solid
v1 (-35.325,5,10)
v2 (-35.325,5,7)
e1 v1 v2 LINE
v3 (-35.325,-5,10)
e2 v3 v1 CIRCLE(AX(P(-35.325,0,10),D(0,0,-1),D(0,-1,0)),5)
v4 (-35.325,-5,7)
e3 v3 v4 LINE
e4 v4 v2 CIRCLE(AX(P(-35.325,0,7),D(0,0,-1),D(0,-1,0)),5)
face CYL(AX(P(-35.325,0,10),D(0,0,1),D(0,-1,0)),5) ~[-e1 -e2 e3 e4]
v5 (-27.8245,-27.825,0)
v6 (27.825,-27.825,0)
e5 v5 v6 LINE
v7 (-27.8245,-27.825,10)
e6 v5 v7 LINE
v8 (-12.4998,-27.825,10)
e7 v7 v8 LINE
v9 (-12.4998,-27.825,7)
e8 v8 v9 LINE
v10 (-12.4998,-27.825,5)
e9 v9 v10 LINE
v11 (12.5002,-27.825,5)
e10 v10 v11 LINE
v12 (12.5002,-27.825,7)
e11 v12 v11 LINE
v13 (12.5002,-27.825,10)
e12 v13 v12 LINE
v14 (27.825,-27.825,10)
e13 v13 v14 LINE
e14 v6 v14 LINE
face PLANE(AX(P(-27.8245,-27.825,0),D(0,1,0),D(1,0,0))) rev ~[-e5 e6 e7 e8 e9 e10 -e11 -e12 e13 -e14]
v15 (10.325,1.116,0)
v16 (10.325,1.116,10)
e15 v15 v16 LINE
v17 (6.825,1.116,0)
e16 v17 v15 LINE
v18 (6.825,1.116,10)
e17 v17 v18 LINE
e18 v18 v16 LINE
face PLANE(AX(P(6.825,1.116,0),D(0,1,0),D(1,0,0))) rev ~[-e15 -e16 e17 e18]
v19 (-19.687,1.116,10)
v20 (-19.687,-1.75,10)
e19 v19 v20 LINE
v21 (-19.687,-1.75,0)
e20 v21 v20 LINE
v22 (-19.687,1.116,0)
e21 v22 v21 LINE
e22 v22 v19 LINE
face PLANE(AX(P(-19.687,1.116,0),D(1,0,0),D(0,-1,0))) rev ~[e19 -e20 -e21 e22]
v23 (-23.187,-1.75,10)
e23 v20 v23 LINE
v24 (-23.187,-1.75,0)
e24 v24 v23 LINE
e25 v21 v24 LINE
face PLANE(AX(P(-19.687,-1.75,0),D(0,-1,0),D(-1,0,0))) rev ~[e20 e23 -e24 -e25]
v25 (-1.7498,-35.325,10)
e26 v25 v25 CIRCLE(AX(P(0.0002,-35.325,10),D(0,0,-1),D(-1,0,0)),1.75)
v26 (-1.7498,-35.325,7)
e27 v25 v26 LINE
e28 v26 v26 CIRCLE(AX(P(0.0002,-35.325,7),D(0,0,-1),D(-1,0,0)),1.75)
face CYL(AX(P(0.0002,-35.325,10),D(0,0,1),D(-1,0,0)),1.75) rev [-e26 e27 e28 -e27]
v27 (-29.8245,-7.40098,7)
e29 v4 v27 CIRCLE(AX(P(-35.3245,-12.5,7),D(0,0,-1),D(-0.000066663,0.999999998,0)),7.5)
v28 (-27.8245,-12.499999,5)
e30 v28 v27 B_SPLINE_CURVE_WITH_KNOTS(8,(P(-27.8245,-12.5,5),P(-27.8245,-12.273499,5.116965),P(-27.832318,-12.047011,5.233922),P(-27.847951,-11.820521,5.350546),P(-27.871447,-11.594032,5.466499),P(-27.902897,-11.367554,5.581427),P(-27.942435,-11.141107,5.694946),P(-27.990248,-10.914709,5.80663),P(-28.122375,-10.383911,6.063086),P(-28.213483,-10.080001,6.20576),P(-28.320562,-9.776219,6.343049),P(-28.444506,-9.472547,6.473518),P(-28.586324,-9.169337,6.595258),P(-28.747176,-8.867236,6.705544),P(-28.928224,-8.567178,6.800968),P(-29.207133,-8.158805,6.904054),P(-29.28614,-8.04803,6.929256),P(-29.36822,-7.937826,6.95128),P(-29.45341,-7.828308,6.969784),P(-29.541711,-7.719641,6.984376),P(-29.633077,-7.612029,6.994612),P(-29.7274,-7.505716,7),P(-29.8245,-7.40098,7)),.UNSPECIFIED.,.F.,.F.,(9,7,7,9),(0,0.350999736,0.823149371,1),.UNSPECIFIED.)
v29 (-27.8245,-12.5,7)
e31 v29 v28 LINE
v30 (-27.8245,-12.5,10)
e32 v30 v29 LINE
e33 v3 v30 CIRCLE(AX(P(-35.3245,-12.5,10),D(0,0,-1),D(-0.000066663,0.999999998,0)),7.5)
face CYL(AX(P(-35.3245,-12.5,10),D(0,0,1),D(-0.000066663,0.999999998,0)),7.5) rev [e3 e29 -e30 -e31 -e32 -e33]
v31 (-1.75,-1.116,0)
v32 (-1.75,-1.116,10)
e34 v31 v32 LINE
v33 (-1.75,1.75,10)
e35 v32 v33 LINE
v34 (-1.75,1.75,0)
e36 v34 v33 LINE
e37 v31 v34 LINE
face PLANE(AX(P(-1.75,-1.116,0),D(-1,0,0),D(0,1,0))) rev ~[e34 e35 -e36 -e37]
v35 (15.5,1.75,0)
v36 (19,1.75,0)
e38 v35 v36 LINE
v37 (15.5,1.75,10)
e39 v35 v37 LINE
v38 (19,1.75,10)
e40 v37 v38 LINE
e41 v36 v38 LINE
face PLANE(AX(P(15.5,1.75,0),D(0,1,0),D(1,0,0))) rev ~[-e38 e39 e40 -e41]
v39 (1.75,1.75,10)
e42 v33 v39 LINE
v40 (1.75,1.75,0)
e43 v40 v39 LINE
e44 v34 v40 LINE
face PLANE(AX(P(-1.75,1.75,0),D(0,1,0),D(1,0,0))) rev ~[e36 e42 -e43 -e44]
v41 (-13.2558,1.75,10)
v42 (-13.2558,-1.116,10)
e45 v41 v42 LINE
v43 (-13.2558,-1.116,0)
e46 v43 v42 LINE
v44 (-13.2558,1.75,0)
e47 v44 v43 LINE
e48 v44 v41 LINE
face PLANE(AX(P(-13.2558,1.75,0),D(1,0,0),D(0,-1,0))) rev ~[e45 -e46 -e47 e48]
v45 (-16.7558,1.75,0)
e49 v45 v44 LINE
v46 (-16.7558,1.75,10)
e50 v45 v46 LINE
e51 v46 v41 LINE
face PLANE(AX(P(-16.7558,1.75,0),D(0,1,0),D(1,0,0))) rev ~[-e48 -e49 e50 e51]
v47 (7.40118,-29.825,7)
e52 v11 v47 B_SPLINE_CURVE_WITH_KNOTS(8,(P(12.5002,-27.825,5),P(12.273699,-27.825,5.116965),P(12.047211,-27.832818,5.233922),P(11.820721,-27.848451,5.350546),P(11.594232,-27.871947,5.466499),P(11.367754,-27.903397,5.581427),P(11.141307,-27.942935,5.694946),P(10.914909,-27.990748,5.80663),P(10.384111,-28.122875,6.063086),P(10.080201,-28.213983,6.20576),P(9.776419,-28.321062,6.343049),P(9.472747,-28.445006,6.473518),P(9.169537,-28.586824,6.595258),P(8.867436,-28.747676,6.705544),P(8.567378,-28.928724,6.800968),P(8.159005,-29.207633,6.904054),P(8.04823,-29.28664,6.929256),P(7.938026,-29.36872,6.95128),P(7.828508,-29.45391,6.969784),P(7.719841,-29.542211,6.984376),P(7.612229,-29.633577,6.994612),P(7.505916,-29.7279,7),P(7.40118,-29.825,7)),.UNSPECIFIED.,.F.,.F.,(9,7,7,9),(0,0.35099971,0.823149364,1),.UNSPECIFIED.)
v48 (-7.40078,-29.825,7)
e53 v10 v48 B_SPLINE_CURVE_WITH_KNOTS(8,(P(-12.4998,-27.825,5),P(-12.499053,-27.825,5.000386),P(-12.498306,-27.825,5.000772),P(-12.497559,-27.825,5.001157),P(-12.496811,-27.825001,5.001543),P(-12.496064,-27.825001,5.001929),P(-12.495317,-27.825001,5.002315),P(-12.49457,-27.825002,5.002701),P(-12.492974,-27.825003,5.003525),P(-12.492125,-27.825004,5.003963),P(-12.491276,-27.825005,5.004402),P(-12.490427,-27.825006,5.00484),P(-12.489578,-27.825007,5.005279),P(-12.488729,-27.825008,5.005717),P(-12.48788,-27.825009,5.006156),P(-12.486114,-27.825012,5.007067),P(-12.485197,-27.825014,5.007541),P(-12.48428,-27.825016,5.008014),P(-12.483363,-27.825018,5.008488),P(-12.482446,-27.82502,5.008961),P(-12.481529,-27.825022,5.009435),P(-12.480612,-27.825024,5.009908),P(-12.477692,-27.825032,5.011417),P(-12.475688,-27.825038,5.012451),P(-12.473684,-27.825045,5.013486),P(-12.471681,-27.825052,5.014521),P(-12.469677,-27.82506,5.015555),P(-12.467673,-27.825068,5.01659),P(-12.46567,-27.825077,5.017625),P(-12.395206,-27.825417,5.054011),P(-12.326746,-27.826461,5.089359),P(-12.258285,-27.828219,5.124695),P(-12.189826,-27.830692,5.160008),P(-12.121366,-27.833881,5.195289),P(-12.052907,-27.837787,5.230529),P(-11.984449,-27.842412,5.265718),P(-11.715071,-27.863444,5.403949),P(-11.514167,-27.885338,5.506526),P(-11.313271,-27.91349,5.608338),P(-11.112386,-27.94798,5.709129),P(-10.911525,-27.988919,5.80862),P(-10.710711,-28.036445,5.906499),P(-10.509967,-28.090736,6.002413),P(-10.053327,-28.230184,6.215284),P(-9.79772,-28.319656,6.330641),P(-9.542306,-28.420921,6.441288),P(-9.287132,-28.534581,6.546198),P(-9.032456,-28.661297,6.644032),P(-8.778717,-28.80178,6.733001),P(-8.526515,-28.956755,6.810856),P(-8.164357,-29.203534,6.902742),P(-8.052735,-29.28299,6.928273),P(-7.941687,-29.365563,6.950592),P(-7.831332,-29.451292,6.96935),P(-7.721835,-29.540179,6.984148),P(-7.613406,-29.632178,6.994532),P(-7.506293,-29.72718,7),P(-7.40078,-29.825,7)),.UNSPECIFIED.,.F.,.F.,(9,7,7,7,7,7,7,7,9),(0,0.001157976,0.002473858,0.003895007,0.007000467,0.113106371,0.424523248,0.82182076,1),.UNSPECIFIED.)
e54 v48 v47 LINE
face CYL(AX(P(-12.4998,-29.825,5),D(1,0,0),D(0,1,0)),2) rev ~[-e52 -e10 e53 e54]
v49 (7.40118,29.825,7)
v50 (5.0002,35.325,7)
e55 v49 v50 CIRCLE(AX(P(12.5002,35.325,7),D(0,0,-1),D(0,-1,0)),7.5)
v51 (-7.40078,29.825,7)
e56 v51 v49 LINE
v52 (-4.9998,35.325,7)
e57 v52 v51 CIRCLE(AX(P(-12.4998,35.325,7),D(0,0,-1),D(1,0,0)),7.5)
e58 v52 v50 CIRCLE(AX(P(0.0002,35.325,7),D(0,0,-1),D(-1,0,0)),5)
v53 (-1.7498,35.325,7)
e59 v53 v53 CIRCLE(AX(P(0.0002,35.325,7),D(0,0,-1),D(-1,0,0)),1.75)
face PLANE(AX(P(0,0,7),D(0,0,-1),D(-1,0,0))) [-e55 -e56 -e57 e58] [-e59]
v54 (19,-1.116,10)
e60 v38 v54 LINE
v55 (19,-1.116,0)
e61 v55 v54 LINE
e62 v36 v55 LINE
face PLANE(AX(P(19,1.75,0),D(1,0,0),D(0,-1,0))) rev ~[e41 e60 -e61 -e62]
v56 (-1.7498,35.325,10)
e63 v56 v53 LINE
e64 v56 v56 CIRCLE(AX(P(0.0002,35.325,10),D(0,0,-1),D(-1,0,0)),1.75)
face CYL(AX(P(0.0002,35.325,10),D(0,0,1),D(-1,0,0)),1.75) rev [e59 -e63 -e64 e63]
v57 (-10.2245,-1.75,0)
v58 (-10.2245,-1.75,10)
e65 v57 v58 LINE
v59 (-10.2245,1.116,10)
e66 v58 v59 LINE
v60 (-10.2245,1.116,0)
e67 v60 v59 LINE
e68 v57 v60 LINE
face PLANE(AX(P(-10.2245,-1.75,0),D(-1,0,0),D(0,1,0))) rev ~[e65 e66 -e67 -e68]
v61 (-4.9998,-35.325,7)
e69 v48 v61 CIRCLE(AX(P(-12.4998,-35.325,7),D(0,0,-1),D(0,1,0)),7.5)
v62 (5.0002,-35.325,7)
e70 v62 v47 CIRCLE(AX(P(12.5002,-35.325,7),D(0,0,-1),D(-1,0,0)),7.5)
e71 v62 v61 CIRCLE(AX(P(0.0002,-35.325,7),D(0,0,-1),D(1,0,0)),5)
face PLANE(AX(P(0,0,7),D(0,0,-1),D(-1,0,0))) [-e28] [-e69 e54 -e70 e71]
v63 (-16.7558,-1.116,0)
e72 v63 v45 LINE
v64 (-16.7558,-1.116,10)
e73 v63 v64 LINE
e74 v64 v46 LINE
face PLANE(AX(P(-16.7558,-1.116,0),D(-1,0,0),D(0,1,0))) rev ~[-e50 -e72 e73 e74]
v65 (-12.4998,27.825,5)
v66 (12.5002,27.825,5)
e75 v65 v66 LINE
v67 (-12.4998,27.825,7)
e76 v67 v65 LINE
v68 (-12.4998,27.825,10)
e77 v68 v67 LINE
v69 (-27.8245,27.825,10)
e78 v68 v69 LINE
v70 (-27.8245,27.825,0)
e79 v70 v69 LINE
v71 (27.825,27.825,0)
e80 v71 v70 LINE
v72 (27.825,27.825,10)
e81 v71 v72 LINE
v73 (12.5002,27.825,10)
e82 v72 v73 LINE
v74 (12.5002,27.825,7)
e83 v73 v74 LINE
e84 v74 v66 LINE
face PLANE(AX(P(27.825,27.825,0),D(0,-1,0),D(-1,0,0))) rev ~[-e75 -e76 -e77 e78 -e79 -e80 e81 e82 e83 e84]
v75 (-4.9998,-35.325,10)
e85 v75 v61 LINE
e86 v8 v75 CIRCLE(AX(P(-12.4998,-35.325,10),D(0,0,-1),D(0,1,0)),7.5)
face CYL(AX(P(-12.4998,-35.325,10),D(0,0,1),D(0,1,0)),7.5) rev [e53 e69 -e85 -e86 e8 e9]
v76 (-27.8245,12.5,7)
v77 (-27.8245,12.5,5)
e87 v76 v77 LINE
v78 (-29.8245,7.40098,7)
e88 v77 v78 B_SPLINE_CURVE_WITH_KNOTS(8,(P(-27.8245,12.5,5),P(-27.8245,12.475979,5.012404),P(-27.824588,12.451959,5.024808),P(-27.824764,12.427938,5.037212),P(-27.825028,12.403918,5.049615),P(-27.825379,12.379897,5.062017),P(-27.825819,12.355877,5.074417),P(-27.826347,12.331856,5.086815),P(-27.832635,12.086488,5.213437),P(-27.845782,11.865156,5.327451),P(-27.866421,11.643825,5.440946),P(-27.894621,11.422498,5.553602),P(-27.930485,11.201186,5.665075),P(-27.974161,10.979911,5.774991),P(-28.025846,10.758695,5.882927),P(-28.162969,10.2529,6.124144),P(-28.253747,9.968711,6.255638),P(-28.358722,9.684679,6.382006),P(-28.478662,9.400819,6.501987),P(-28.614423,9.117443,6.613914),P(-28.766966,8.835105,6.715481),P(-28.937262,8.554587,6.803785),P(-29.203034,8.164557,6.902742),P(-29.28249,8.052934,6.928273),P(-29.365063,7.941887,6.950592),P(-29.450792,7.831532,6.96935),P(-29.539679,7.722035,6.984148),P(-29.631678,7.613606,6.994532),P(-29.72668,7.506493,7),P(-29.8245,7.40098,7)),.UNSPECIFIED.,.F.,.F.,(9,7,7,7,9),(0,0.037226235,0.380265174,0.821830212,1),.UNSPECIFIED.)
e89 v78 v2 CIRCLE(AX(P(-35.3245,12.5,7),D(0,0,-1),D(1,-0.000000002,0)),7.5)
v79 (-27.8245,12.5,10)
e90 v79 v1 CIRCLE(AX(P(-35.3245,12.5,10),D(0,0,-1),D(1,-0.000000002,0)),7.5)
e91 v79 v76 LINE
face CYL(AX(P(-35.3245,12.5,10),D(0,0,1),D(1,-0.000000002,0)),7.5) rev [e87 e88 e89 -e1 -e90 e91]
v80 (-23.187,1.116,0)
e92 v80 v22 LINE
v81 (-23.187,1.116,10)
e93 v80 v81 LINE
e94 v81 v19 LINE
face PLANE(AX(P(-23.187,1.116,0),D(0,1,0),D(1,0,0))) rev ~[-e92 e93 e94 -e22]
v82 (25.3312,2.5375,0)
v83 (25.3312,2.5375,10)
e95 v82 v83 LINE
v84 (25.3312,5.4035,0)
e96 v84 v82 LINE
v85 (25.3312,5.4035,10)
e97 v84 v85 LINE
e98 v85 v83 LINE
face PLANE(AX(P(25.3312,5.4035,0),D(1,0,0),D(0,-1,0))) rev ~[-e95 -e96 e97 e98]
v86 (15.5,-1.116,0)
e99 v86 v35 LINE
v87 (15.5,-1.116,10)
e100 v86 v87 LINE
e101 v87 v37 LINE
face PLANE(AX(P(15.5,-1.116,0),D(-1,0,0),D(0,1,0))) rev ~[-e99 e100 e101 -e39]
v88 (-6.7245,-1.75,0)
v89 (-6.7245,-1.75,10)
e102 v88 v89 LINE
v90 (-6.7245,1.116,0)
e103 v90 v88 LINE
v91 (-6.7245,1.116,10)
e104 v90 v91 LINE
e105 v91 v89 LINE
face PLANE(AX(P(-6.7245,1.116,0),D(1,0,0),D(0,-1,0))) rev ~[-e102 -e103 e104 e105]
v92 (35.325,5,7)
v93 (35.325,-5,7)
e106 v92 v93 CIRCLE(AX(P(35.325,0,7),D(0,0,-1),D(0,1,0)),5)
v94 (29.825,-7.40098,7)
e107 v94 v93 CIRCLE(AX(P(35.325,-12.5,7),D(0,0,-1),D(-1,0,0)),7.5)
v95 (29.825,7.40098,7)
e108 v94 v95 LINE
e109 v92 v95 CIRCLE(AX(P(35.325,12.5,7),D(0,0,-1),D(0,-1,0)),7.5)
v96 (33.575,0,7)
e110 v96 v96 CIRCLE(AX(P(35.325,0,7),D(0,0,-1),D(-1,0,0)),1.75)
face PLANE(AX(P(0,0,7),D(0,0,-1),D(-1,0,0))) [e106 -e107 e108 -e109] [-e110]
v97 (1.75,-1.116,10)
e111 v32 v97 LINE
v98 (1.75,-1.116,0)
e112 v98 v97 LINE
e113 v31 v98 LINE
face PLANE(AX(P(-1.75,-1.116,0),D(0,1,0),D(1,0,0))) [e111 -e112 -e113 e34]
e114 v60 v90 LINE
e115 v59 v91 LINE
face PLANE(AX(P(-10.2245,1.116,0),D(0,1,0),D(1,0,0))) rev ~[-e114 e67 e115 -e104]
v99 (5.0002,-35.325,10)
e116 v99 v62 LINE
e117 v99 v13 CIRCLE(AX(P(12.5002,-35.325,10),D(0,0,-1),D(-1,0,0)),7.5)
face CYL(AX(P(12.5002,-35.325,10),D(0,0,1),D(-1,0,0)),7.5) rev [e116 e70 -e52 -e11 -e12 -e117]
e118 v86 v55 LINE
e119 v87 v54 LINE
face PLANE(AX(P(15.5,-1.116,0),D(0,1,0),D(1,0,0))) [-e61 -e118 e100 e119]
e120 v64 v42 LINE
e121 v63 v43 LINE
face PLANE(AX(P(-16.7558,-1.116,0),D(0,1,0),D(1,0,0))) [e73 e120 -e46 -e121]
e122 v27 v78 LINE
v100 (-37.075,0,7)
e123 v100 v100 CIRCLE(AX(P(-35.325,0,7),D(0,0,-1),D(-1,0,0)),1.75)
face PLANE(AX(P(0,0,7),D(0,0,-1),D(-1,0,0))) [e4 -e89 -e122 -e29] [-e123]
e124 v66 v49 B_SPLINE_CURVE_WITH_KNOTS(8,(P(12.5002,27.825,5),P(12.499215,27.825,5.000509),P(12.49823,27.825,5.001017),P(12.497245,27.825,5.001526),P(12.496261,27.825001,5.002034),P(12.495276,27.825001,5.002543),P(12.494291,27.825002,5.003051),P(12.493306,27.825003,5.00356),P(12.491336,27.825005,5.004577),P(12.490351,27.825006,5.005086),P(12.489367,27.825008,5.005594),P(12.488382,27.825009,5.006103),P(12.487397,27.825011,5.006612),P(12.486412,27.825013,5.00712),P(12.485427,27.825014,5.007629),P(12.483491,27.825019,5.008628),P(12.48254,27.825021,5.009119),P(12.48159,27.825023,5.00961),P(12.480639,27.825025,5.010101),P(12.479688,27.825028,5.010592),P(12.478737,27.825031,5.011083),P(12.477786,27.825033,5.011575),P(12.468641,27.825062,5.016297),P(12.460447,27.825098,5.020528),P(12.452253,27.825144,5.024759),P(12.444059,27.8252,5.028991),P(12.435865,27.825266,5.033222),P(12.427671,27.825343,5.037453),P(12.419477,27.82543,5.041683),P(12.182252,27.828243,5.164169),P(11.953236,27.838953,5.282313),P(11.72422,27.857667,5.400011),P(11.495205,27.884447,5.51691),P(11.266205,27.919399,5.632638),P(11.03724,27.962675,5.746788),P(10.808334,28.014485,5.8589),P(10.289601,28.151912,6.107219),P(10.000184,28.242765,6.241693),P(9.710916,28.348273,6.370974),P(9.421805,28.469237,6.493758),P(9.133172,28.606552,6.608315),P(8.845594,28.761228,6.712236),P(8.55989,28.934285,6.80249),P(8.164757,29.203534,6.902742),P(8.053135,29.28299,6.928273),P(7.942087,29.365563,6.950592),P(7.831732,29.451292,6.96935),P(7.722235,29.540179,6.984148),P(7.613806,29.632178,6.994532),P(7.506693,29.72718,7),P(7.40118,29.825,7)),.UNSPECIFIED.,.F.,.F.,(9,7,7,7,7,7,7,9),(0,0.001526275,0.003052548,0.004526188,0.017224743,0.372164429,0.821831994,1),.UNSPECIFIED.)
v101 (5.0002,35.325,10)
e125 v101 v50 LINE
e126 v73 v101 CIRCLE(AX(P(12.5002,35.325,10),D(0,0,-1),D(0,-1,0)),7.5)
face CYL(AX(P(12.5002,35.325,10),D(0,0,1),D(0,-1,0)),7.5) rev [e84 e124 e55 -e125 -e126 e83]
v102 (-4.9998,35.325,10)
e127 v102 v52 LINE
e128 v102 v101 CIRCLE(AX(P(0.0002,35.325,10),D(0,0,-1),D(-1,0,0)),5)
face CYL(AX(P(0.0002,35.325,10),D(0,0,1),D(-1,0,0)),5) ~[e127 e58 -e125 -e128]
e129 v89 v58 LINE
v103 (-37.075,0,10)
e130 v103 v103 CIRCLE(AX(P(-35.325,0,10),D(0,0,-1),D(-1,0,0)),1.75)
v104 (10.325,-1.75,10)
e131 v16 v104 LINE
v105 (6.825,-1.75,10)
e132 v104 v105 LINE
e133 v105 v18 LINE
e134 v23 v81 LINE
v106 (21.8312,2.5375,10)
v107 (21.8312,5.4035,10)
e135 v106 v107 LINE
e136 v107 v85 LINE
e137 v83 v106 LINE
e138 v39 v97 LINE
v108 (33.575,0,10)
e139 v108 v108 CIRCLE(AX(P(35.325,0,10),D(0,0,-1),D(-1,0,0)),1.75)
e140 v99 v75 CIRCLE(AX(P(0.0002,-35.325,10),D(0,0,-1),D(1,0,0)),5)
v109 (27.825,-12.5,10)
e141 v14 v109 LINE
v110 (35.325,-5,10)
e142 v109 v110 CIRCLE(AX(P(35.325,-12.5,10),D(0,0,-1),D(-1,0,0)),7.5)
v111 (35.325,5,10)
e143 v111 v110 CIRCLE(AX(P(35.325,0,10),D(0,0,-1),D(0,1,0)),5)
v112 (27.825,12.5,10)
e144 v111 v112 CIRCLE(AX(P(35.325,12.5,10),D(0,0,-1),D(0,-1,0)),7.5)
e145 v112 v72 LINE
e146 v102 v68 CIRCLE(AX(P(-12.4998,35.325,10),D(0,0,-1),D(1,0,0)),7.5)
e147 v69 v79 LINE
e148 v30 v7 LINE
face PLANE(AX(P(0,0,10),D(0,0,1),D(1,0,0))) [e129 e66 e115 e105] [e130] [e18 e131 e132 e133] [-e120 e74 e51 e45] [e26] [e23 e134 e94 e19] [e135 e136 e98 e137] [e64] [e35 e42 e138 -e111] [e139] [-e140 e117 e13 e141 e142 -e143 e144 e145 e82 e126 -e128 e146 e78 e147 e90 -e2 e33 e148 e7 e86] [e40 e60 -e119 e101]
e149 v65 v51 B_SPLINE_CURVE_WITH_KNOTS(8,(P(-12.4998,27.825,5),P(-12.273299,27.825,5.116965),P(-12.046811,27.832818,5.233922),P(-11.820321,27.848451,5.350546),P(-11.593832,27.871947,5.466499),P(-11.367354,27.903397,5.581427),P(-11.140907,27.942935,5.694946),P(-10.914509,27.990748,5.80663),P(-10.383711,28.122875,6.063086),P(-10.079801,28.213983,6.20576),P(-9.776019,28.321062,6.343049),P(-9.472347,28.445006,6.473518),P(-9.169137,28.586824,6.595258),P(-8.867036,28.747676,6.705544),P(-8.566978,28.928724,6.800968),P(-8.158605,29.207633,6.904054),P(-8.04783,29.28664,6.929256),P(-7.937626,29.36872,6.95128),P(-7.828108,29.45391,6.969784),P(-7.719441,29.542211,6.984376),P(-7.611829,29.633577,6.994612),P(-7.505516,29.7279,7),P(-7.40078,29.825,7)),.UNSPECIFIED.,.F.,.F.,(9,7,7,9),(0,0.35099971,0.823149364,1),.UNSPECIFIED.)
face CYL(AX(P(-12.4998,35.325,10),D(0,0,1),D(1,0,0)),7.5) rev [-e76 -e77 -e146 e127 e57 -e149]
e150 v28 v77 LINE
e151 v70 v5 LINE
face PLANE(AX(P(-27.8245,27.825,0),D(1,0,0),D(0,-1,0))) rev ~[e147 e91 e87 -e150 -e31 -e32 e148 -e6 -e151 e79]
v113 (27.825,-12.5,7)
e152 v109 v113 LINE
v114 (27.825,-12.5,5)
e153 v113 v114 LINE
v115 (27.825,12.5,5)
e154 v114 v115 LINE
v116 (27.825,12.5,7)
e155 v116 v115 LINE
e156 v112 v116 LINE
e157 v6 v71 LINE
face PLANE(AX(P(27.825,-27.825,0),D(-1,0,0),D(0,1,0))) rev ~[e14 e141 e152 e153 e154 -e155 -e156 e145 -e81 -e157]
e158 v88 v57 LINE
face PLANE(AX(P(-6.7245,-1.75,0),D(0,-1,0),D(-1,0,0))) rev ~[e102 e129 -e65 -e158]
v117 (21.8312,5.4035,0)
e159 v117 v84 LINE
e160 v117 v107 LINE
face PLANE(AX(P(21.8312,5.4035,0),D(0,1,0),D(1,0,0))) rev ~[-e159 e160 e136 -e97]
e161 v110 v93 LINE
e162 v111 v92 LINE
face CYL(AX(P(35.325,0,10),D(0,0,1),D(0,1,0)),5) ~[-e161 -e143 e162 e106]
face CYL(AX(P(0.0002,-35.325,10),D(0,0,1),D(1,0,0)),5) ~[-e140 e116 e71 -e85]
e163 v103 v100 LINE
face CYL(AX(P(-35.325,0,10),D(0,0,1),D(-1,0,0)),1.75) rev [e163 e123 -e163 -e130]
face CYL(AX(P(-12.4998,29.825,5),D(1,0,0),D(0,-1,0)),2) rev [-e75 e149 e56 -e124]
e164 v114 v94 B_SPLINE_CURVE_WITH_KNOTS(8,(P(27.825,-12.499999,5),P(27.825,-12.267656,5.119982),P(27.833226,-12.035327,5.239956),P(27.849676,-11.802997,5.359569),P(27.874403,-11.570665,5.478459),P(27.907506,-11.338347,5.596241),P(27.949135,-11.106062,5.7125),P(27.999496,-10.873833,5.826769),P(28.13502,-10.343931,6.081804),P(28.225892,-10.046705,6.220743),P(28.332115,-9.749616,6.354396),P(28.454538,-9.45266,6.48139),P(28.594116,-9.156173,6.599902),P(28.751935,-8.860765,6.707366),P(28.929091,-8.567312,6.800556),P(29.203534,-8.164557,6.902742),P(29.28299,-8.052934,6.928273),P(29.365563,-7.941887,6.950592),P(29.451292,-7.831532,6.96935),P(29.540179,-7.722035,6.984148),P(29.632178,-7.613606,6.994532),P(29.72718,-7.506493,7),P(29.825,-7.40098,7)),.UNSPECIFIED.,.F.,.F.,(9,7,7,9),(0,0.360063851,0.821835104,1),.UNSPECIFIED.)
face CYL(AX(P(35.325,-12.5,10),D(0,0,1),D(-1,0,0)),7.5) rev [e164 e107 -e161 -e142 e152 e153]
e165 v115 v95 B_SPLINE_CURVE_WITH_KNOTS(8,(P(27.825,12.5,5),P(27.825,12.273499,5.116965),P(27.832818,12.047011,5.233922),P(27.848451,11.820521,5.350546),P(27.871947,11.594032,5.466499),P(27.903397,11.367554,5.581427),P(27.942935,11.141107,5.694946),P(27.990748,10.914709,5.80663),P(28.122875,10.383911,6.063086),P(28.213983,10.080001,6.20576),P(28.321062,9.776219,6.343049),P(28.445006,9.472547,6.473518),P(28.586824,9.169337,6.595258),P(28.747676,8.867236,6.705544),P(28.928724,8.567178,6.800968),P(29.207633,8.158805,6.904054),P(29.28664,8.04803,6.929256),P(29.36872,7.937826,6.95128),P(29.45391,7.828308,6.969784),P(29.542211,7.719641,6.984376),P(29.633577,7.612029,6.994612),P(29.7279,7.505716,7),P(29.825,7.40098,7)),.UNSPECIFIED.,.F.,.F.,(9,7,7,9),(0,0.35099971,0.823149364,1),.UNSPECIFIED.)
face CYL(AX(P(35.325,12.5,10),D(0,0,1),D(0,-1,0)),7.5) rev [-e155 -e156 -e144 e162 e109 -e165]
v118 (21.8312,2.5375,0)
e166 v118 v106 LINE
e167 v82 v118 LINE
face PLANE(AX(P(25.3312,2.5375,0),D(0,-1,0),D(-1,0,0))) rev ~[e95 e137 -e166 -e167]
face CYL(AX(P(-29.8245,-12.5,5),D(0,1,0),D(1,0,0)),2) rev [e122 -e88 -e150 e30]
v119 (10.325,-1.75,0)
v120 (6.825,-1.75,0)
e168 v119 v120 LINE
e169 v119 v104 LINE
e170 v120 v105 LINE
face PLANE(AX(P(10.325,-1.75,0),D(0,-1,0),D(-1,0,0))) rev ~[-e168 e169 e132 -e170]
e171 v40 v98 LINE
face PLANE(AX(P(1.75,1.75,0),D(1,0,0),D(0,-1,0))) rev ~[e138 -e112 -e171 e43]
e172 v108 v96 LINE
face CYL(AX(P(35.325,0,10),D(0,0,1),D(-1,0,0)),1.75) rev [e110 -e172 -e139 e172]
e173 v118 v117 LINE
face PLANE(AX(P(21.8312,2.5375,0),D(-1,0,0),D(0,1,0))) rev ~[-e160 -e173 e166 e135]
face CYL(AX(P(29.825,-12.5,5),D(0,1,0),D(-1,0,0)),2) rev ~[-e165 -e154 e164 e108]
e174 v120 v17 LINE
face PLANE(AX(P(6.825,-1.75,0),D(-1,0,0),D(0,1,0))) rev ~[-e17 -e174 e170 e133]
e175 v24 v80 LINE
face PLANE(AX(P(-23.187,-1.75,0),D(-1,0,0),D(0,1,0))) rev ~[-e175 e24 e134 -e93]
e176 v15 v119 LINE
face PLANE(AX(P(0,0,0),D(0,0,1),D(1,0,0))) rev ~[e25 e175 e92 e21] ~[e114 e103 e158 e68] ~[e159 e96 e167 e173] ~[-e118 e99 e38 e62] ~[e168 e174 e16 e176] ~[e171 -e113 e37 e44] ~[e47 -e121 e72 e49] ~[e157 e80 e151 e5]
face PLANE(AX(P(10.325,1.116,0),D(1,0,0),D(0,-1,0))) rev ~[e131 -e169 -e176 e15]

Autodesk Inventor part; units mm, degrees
ref_plane "YZ Plane" through (0, 0, 0) normal (1, 0, 0) x (0, 1, 0)
ref_plane "XZ Plane" through (0, 0, 0) normal (0, 1, 0) x (-1, 0, 0)
ref_plane "XY Plane" through (0, 0, 0) normal (0, 0, 1) x (1, 0, 0)
sketch "Sketch1" plane through (0, 0, 0) normal (0, 0, 1) x (1, 0, 0)
  circle A0 centre (23.5812, 3.9705) radius 1.4165 construction
  circle A1 centre (17.25, 0) radius 1.4165 construction
  circle A2 centre (8.575, 0) radius 1.4165 construction
  circle A3 centre (0, 0) radius 1.4165 construction
  circle A4 centre (-8.4745, 0) radius 1.4165 construction
  circle A5 centre (-15.0058, 0) radius 1.4165 construction
  circle A6 centre (-21.437, 0) radius 1.4165 construction
  line L0 (25.625, 25.625) -> (-25.6245, 25.625) construction
  line L1 (-25.6245, 25.625) -> (-25.6245, -25.625) construction
  line L2 (-25.6245, -25.625) -> (25.625, -25.625) construction
  line L3 (25.625, -25.625) -> (25.625, 25.625) construction
  line L4 (21.8312, 5.4035) -> (25.3312, 5.4035)
  line L5 (25.3312, 5.4035) -> (25.3312, 2.5375)
  line L6 (25.3312, 2.5375) -> (21.8312, 2.5375)
  line L7 (21.8312, 2.5375) -> (21.8312, 5.4035)
  line L8 (21.8312, 5.4035) -> (25.3312, 2.5375) construction
  line L9 (25.3312, 5.4035) -> (21.8312, 2.5375) construction
  line L10 (15.5, 1.75) -> (19, 1.75)
  line L11 (19, 1.75) -> (19, -1.116)
  line L12 (15.5, -1.116) -> (15.5, 1.75)
  line L13 (6.825, 1.116) -> (10.325, 1.116)
  line L14 (10.325, 1.116) -> (10.325, -1.75)
  line L15 (10.325, -1.75) -> (6.825, -1.75)
  line L16 (6.825, -1.75) -> (6.825, 1.116)
  line L17 (-1.75, 1.75) -> (1.75, 1.75)
  line L18 (1.75, 1.75) -> (1.75, -1.116)
  line L19 (-1.75, -1.116) -> (-1.75, 1.75)
  line L20 (-10.2245, 1.116) -> (-6.7245, 1.116)
  line L21 (-6.7245, 1.116) -> (-6.7245, -1.75)
  line L22 (-6.7245, -1.75) -> (-10.2245, -1.75)
  line L23 (-10.2245, -1.75) -> (-10.2245, 1.116)
  line L24 (-16.7558, 1.75) -> (-13.2558, 1.75)
  line L25 (-13.2558, 1.75) -> (-13.2558, -1.116)
  line L26 (-16.7558, -1.116) -> (-16.7558, 1.75)
  line L27 (-23.187, 1.116) -> (-19.687, 1.116)
  line L28 (-19.687, 1.116) -> (-19.687, -1.75)
  line L29 (-19.687, -1.75) -> (-23.187, -1.75)
  line L30 (-23.187, -1.75) -> (-23.187, 1.116)
  line L31 (25.825, 25.825) -> (-25.8245, 25.825)
  line L32 (-25.8245, 25.825) -> (-25.8245, -25.825)
  line L33 (-25.8245, -25.825) -> (25.825, -25.825)
  line L34 (25.825, -25.825) -> (25.825, 25.825)
  line L35 (27.825, 27.825) -> (-27.8245, 27.825)
  line L36 (-27.8245, 27.825) -> (-27.8245, -27.825)
  line L37 (-27.8245, -27.825) -> (27.825, -27.825)
  line L38 (27.825, -27.825) -> (27.825, 27.825)
  line L39 (-16.7558, -1.116) -> (-13.2558, -1.116)
  line L40 (-1.75, -1.116) -> (1.75, -1.116)
  line L41 (15.5, -1.116) -> (19, -1.116)
  point P0 (0, 0)
  point P1 (-16.6189, -1.116)
  dimension "d0" = 3.5
  dimension "d1" = 2.866
  dimension "d4" = 3.5
  dimension "d5" = 2.866
  dimension "d8" = 3.5
  dimension "d9" = 2.866
  dimension "d12" = 3.5
  dimension "d13" = 2.866
  dimension "d14" = 0.2
  dimension "d15" = 2
extrude "Extrusion1" add sketch "Sketch1" along normal blind 10 contours L34 L33 L32 L31 | L38 L37 L36 L35
sketch "Sketch2" plane through (0, 0, 0) normal (0, 0, -1) x (-1, 0, 0)
  line L0 (27.8245, 27.825) -> (27.8245, -27.825) projected
  line L1 (-27.825, 27.825) -> (27.8245, 27.825) projected
  line L2 (-27.825, -27.825) -> (-27.825, 27.825) projected
  line L3 (27.8245, -27.825) -> (-27.825, -27.825) projected
  line L4 (23.187, -1.75) -> (23.187, 1.116) projected
  line L5 (19.687, -1.75) -> (23.187, -1.75) projected
  line L6 (19.687, 1.116) -> (19.687, -1.75) projected
  line L7 (23.187, 1.116) -> (19.687, 1.116) projected
  line L8 (10.2245, -1.75) -> (10.2245, 1.116) projected
  line L9 (6.7245, -1.75) -> (10.2245, -1.75) projected
  line L10 (6.7245, 1.116) -> (6.7245, -1.75) projected
  line L11 (10.2245, 1.116) -> (6.7245, 1.116) projected
  line L12 (-6.825, -1.75) -> (-6.825, 1.116) projected
  line L13 (-10.325, -1.75) -> (-6.825, -1.75) projected
  line L14 (-10.325, 1.116) -> (-10.325, -1.75) projected
  line L15 (-6.825, 1.116) -> (-10.325, 1.116) projected
  line L16 (-21.8312, 5.4035) -> (-25.3312, 5.4035) projected
  line L17 (-21.8312, 2.5375) -> (-21.8312, 5.4035) projected
  line L18 (-25.3312, 2.5375) -> (-21.8312, 2.5375) projected
  line L19 (-25.3312, 5.4035) -> (-25.3312, 2.5375) projected
  line L20 (25.8245, -25.825) -> (25.8245, 25.825)
  line L21 (25.8245, 25.825) -> (-25.825, 25.825)
  line L22 (-25.825, 25.825) -> (-25.825, -25.825)
  line L23 (-25.825, -25.825) -> (25.8245, -25.825)
  point P0 (0, 0)
  dimension "d18" = 2
extrude "Extrusion2" [suppressed]
ref_plane "Work Plane1" through (0, 0, 10) normal (0, 0, -1) x (-1, 0, 0)
sketch "Sketch3" plane through (0, 0, 10) normal (0, 0, -1) x (-1, 0, 0)
  circle A0 centre (35.325, 0) radius 1.75
  circle A1 centre (-0.0002, -35.325) radius 1.75
  circle A2 centre (-35.325, 0) radius 1.75
  circle A3 centre (-0.0002, 35.325) radius 1.75
  line L0 (7.4998, 35.325) -> (7.4998, 35.325)
  line L1 (-7.5003, 35.325) -> (-7.5003, 35.325)
  arc A4 (4.9998, 35.325) -> (-5.0002, 35.325) centre (-0.0002, 35.325) ccw
  arc A5 (-35.325, 5) -> (-35.325, -5) centre (-35.325, 0) ccw
  arc A6 (35.325, -5) -> (35.325, 5) centre (35.325, 0) ccw
  arc A7 (-5.0002, -35.325) -> (4.9998, -35.325) centre (-0.0002, -35.325) ccw
  line L2 (27.8245, 27.825) -> (-27.825, 27.825) projected
  line L3 (27.8245, -27.825) -> (-27.825, -27.825) projected
  line L4 (-35.325, 5) -> (-35.325, 5)
  line L5 (-5.0002, 35.325) -> (-5.0002, 35.325)
  line L6 (4.9998, 35.325) -> (4.9998, 35.325)
  line L7 (35.325, 5) -> (35.3245, 5)
  line L8 (27.8245, -27.825) -> (27.8245, 27.825) projected
  line L9 (35.325, -5) -> (35.3245, -5)
  line L10 (4.9998, -35.325) -> (4.9998, -35.325)
  line L11 (-5.0002, -35.325) -> (-5.0002, -35.325)
  line L12 (-35.325, -5) -> (-35.325, -5)
  line L13 (-27.825, -27.825) -> (-27.825, -12.5)
  line L14 (-27.825, 12.5) -> (-27.825, 27.825)
  line L15 (27.8245, -27.825) -> (12.4998, -27.825)
  line L16 (-12.5002, -27.825) -> (-27.825, -27.825)
  line L17 (27.8245, 27.825) -> (27.8245, 12.5)
  line L18 (27.8245, -12.5) -> (27.8245, -27.825)
  line L19 (-27.825, 27.825) -> (-12.5002, 27.825)
  line L20 (12.4998, 27.825) -> (27.8245, 27.825)
  arc A8 (-35.325, 5) -> (-27.825, 12.5) centre (-35.325, 12.5) ccw
  arc A9 (-27.825, -12.5) -> (-35.325, -5) centre (-35.325, -12.5) ccw
  arc A10 (-5.0002, -35.325) -> (-12.5002, -27.825) centre (-12.5002, -35.325) ccw
  arc A11 (12.4998, -27.825) -> (4.9998, -35.325) centre (12.4998, -35.325) ccw
  arc A12 (35.3245, -5) -> (27.8245, -12.5) centre (35.3245, -12.5) ccw
  arc A13 (27.8245, 12.5) -> (35.3245, 5) centre (35.3245, 12.5) ccw
  arc A14 (4.9998, 35.325) -> (12.4998, 27.825) centre (12.4998, 35.325) ccw
  arc A15 (-12.5002, 27.825) -> (-5.0002, 35.325) centre (-12.5002, 35.325) ccw
  line L21 (-27.825, -12.5) -> (-27.825, 12.5)
  line L22 (-25.825, -25.825) -> (-25.825, 25.825) projected
  point P0 (27.8245, 5)
  point P1 (27.8245, -5)
  point P2 (-5.0002, -35.325)
  point P3 (4.9998, -35.325)
  point P4 (-5.0002, 35.325)
  dimension "d25" = 10
  dimension "d26" = 10
  dimension "d27" = 7.5
extrude "Extrusion3" add sketch "Sketch3" along normal blind 3 contours A14 L2 A15 A4 | A13 A6 A12 L8 | L21 A9 A5 A8 | A11 A7 A10 L3
fillet "Fillet1" radius 2 4 edges at (-27.8245, 0, 7) (0.0002, 27.825, 7) (27.825, 0, 7) (0.0002, -27.825, 7)
sketch "Sketch4" plane through (0, 0, 0) normal (0, 0, -1) x (-1, 0, 0)
  line L0 (27.8245, 27.825) -> (27.8245, -27.825) construction
  line L1 (-27.825, 27.825) -> (27.8245, 27.825) construction
  line L2 (-27.825, -27.825) -> (-27.825, 27.825) construction
  line L3 (27.8245, -27.825) -> (-27.825, -27.825) construction
  line L4 (-21.8312, 5.4035) -> (-25.3312, 5.4035) construction
  line L5 (-21.8312, 2.5375) -> (-21.8312, 5.4035) construction
  line L6 (-25.3312, 2.5375) -> (-21.8312, 2.5375) construction
  line L7 (-25.3312, 5.4035) -> (-25.3312, 2.5375) construction
  line L8 (-15.5, -1.116) -> (-15.5, 1.75) construction
  line L9 (-19, -1.116) -> (-15.5, -1.116) construction
  line L10 (-19, 1.75) -> (-19, -1.116) construction
  line L11 (-15.5, 1.75) -> (-19, 1.75) construction
  line L12 (-6.825, -1.75) -> (-6.825, 1.116) construction
  line L13 (-10.325, -1.75) -> (-6.825, -1.75) construction
  line L14 (-10.325, 1.116) -> (-10.325, -1.75) construction
  line L15 (-6.825, 1.116) -> (-10.325, 1.116) construction
  line L16 (1.75, -1.116) -> (1.75, 1.75) construction
  line L17 (-1.75, -1.116) -> (1.75, -1.116) construction
  line L18 (-1.75, 1.75) -> (-1.75, -1.116) construction
  line L19 (1.75, 1.75) -> (-1.75, 1.75) construction
  line L20 (10.2245, -1.75) -> (10.2245, 1.116) construction
  line L21 (6.7245, -1.75) -> (10.2245, -1.75) construction
  line L22 (6.7245, 1.116) -> (6.7245, -1.75) construction
  line L23 (10.2245, 1.116) -> (6.7245, 1.116) construction
  line L24 (16.7558, -1.116) -> (16.7558, 1.75) construction
  line L25 (13.2558, -1.116) -> (16.7558, -1.116) construction
  line L26 (13.2558, 1.75) -> (13.2558, -1.116) construction
  line L27 (16.7558, 1.75) -> (13.2558, 1.75) construction
  line L28 (23.187, -1.75) -> (23.187, 1.116) construction
  line L29 (19.687, -1.75) -> (23.187, -1.75) construction
  line L30 (19.687, 1.116) -> (19.687, -1.75) construction
  line L31 (23.187, 1.116) -> (19.687, 1.116) construction
  line L32 (26.8245, -26.825) -> (26.8245, 26.825)
  line L33 (26.8245, 26.825) -> (-26.825, 26.825)
  line L34 (-26.825, 26.825) -> (-26.825, -26.825)
  line L35 (-26.825, -26.825) -> (26.8245, -26.825)
  line L36 (24.187, -2.75) -> (24.187, 2.116)
  line L37 (18.687, 2.116) -> (18.687, -2.75)
  line L38 (17.7558, -2.116) -> (17.7558, 2.75)
  line L39 (12.2558, 2.75) -> (12.2558, -2.116)
  line L40 (11.2245, -2.75) -> (11.2245, 2.116)
  line L41 (5.7245, 2.116) -> (5.7245, -2.75)
  line L42 (2.75, -2.116) -> (2.75, 2.75)
  line L43 (-2.75, 2.75) -> (-2.75, -2.116)
  line L44 (-5.825, -2.75) -> (-5.825, 2.116)
  line L45 (-11.325, 2.116) -> (-11.325, -2.75)
  line L46 (-14.5, 2.75) -> (-14.5, -2.116)
  line L47 (-20, -2.116) -> (-20, 2.75)
  line L48 (-20.8312, 1.5375) -> (-20.8312, 6.4035)
  line L49 (-26.3312, 6.4035) -> (-26.3312, 1.5375)
  line L50 (-23.5812, 26.825) -> (-23.5812, -26.825) construction
  line L51 (-17.25, 26.825) -> (-17.25, -26.825) construction
  line L52 (-0.0002, 26.825) -> (-0.0003, -26.825) construction
  line L53 (8.4745, -26.825) -> (8.4745, 26.825) construction
  line L54 (15.0058, 26.825) -> (15.0057, -26.825) construction
  line L55 (21.437, -26.825) -> (21.437, 26.825) construction
  line L56 (-22.5812, 26.825) -> (-22.5812, 6.4035)
  line L57 (-22.5812, 1.5375) -> (-22.5812, -26.825)
  line L58 (-24.5812, 26.825) -> (-24.5812, 6.4035)
  line L59 (-24.5812, 1.5375) -> (-24.5812, -26.825)
  line L60 (-26.3312, 1.5375) -> (-24.5812, 1.5375)
  line L61 (-22.5812, 1.5375) -> (-20.8312, 1.5375)
  line L62 (-20.8312, 6.4035) -> (-22.5812, 6.4035)
  line L63 (-24.5812, 6.4035) -> (-26.3312, 6.4035)
  line L64 (-20, 2.75) -> (-18.25, 2.75)
  line L65 (-16.25, 2.75) -> (-14.5, 2.75)
  line L66 (-16.25, 26.825) -> (-16.25, 2.75)
  line L67 (-16.25, -2.116) -> (-16.25, -26.825)
  line L68 (-18.25, 26.825) -> (-18.25, 2.75)
  line L69 (-18.25, -2.116) -> (-18.25, -26.825)
  line L70 (-14.5, -2.116) -> (-16.25, -2.116)
  line L71 (-18.25, -2.116) -> (-20, -2.116)
  line L72 (-11.325, -2.75) -> (-9.575, -2.75)
  line L73 (-7.575, -2.75) -> (-5.825, -2.75)
  line L74 (-5.825, 2.116) -> (-7.575, 2.116)
  line L75 (-9.575, 2.116) -> (-11.325, 2.116)
  line L76 (2.75, 2.75) -> (0.9998, 2.75)
  line L77 (-1.0002, 2.75) -> (-2.75, 2.75)
  line L78 (0.9998, 26.825) -> (0.9998, 2.75)
  line L79 (0.9998, -2.116) -> (0.9998, -26.825)
  line L80 (-2.75, -2.116) -> (-1.0002, -2.116)
  line L81 (0.9998, -2.116) -> (2.75, -2.116)
  line L82 (-1.0002, 26.825) -> (-1.0002, 2.75)
  line L83 (-1.0002, -2.116) -> (-1.0002, -26.825)
  line L84 (11.2245, 2.116) -> (9.4745, 2.116)
  line L85 (7.4745, 2.116) -> (5.7245, 2.116)
  line L86 (9.4745, -26.825) -> (9.4745, -2.75)
  line L87 (9.4745, 2.116) -> (9.4745, 26.825)
  line L88 (5.7245, -2.75) -> (7.4745, -2.75)
  line L89 (9.4745, -2.75) -> (11.2245, -2.75)
  line L90 (7.4745, -26.825) -> (7.4745, -2.75)
  line L91 (7.4745, 2.116) -> (7.4745, 26.825)
  line L92 (14.0058, 26.825) -> (14.0058, 2.75)
  line L93 (16.0058, 26.825) -> (16.0058, 2.75)
  line L94 (16.0058, -2.116) -> (16.0057, -26.825)
  line L95 (14.0058, -2.116) -> (14.0057, -26.825)
  line L96 (20.437, 2.116) -> (20.437, 26.825)
  line L97 (22.437, -26.825) -> (22.437, -2.75)
  line L98 (22.437, 2.116) -> (22.437, 26.825)
  line L99 (24.187, 2.116) -> (22.437, 2.116)
  line L100 (20.437, 2.116) -> (18.687, 2.116)
  line L101 (17.7558, 2.75) -> (16.0058, 2.75)
  line L102 (14.0058, 2.75) -> (12.2558, 2.75)
  line L103 (12.2558, -2.116) -> (14.0058, -2.116)
  line L104 (16.0058, -2.116) -> (17.7558, -2.116)
  line L105 (20.437, -26.825) -> (20.437, -2.75)
  line L106 (18.687, -2.75) -> (20.437, -2.75)
  line L107 (22.437, -2.75) -> (24.187, -2.75)
  line L108 (-8.575, 26.825) -> (-8.575, -26.825) construction
  line L109 (-7.575, 26.825) -> (-7.575, 2.116)
  line L110 (-7.575, -2.75) -> (-7.575, -26.825)
  line L111 (-9.575, 26.825) -> (-9.575, 2.116)
  line L112 (-9.575, -2.75) -> (-9.575, -26.825)
  point P0 (0, 0)
  dimension "d4" = 3.5
  dimension "d5" = 2.866
extrude "Extrusion4" [suppressed]
properties part number "frame"
